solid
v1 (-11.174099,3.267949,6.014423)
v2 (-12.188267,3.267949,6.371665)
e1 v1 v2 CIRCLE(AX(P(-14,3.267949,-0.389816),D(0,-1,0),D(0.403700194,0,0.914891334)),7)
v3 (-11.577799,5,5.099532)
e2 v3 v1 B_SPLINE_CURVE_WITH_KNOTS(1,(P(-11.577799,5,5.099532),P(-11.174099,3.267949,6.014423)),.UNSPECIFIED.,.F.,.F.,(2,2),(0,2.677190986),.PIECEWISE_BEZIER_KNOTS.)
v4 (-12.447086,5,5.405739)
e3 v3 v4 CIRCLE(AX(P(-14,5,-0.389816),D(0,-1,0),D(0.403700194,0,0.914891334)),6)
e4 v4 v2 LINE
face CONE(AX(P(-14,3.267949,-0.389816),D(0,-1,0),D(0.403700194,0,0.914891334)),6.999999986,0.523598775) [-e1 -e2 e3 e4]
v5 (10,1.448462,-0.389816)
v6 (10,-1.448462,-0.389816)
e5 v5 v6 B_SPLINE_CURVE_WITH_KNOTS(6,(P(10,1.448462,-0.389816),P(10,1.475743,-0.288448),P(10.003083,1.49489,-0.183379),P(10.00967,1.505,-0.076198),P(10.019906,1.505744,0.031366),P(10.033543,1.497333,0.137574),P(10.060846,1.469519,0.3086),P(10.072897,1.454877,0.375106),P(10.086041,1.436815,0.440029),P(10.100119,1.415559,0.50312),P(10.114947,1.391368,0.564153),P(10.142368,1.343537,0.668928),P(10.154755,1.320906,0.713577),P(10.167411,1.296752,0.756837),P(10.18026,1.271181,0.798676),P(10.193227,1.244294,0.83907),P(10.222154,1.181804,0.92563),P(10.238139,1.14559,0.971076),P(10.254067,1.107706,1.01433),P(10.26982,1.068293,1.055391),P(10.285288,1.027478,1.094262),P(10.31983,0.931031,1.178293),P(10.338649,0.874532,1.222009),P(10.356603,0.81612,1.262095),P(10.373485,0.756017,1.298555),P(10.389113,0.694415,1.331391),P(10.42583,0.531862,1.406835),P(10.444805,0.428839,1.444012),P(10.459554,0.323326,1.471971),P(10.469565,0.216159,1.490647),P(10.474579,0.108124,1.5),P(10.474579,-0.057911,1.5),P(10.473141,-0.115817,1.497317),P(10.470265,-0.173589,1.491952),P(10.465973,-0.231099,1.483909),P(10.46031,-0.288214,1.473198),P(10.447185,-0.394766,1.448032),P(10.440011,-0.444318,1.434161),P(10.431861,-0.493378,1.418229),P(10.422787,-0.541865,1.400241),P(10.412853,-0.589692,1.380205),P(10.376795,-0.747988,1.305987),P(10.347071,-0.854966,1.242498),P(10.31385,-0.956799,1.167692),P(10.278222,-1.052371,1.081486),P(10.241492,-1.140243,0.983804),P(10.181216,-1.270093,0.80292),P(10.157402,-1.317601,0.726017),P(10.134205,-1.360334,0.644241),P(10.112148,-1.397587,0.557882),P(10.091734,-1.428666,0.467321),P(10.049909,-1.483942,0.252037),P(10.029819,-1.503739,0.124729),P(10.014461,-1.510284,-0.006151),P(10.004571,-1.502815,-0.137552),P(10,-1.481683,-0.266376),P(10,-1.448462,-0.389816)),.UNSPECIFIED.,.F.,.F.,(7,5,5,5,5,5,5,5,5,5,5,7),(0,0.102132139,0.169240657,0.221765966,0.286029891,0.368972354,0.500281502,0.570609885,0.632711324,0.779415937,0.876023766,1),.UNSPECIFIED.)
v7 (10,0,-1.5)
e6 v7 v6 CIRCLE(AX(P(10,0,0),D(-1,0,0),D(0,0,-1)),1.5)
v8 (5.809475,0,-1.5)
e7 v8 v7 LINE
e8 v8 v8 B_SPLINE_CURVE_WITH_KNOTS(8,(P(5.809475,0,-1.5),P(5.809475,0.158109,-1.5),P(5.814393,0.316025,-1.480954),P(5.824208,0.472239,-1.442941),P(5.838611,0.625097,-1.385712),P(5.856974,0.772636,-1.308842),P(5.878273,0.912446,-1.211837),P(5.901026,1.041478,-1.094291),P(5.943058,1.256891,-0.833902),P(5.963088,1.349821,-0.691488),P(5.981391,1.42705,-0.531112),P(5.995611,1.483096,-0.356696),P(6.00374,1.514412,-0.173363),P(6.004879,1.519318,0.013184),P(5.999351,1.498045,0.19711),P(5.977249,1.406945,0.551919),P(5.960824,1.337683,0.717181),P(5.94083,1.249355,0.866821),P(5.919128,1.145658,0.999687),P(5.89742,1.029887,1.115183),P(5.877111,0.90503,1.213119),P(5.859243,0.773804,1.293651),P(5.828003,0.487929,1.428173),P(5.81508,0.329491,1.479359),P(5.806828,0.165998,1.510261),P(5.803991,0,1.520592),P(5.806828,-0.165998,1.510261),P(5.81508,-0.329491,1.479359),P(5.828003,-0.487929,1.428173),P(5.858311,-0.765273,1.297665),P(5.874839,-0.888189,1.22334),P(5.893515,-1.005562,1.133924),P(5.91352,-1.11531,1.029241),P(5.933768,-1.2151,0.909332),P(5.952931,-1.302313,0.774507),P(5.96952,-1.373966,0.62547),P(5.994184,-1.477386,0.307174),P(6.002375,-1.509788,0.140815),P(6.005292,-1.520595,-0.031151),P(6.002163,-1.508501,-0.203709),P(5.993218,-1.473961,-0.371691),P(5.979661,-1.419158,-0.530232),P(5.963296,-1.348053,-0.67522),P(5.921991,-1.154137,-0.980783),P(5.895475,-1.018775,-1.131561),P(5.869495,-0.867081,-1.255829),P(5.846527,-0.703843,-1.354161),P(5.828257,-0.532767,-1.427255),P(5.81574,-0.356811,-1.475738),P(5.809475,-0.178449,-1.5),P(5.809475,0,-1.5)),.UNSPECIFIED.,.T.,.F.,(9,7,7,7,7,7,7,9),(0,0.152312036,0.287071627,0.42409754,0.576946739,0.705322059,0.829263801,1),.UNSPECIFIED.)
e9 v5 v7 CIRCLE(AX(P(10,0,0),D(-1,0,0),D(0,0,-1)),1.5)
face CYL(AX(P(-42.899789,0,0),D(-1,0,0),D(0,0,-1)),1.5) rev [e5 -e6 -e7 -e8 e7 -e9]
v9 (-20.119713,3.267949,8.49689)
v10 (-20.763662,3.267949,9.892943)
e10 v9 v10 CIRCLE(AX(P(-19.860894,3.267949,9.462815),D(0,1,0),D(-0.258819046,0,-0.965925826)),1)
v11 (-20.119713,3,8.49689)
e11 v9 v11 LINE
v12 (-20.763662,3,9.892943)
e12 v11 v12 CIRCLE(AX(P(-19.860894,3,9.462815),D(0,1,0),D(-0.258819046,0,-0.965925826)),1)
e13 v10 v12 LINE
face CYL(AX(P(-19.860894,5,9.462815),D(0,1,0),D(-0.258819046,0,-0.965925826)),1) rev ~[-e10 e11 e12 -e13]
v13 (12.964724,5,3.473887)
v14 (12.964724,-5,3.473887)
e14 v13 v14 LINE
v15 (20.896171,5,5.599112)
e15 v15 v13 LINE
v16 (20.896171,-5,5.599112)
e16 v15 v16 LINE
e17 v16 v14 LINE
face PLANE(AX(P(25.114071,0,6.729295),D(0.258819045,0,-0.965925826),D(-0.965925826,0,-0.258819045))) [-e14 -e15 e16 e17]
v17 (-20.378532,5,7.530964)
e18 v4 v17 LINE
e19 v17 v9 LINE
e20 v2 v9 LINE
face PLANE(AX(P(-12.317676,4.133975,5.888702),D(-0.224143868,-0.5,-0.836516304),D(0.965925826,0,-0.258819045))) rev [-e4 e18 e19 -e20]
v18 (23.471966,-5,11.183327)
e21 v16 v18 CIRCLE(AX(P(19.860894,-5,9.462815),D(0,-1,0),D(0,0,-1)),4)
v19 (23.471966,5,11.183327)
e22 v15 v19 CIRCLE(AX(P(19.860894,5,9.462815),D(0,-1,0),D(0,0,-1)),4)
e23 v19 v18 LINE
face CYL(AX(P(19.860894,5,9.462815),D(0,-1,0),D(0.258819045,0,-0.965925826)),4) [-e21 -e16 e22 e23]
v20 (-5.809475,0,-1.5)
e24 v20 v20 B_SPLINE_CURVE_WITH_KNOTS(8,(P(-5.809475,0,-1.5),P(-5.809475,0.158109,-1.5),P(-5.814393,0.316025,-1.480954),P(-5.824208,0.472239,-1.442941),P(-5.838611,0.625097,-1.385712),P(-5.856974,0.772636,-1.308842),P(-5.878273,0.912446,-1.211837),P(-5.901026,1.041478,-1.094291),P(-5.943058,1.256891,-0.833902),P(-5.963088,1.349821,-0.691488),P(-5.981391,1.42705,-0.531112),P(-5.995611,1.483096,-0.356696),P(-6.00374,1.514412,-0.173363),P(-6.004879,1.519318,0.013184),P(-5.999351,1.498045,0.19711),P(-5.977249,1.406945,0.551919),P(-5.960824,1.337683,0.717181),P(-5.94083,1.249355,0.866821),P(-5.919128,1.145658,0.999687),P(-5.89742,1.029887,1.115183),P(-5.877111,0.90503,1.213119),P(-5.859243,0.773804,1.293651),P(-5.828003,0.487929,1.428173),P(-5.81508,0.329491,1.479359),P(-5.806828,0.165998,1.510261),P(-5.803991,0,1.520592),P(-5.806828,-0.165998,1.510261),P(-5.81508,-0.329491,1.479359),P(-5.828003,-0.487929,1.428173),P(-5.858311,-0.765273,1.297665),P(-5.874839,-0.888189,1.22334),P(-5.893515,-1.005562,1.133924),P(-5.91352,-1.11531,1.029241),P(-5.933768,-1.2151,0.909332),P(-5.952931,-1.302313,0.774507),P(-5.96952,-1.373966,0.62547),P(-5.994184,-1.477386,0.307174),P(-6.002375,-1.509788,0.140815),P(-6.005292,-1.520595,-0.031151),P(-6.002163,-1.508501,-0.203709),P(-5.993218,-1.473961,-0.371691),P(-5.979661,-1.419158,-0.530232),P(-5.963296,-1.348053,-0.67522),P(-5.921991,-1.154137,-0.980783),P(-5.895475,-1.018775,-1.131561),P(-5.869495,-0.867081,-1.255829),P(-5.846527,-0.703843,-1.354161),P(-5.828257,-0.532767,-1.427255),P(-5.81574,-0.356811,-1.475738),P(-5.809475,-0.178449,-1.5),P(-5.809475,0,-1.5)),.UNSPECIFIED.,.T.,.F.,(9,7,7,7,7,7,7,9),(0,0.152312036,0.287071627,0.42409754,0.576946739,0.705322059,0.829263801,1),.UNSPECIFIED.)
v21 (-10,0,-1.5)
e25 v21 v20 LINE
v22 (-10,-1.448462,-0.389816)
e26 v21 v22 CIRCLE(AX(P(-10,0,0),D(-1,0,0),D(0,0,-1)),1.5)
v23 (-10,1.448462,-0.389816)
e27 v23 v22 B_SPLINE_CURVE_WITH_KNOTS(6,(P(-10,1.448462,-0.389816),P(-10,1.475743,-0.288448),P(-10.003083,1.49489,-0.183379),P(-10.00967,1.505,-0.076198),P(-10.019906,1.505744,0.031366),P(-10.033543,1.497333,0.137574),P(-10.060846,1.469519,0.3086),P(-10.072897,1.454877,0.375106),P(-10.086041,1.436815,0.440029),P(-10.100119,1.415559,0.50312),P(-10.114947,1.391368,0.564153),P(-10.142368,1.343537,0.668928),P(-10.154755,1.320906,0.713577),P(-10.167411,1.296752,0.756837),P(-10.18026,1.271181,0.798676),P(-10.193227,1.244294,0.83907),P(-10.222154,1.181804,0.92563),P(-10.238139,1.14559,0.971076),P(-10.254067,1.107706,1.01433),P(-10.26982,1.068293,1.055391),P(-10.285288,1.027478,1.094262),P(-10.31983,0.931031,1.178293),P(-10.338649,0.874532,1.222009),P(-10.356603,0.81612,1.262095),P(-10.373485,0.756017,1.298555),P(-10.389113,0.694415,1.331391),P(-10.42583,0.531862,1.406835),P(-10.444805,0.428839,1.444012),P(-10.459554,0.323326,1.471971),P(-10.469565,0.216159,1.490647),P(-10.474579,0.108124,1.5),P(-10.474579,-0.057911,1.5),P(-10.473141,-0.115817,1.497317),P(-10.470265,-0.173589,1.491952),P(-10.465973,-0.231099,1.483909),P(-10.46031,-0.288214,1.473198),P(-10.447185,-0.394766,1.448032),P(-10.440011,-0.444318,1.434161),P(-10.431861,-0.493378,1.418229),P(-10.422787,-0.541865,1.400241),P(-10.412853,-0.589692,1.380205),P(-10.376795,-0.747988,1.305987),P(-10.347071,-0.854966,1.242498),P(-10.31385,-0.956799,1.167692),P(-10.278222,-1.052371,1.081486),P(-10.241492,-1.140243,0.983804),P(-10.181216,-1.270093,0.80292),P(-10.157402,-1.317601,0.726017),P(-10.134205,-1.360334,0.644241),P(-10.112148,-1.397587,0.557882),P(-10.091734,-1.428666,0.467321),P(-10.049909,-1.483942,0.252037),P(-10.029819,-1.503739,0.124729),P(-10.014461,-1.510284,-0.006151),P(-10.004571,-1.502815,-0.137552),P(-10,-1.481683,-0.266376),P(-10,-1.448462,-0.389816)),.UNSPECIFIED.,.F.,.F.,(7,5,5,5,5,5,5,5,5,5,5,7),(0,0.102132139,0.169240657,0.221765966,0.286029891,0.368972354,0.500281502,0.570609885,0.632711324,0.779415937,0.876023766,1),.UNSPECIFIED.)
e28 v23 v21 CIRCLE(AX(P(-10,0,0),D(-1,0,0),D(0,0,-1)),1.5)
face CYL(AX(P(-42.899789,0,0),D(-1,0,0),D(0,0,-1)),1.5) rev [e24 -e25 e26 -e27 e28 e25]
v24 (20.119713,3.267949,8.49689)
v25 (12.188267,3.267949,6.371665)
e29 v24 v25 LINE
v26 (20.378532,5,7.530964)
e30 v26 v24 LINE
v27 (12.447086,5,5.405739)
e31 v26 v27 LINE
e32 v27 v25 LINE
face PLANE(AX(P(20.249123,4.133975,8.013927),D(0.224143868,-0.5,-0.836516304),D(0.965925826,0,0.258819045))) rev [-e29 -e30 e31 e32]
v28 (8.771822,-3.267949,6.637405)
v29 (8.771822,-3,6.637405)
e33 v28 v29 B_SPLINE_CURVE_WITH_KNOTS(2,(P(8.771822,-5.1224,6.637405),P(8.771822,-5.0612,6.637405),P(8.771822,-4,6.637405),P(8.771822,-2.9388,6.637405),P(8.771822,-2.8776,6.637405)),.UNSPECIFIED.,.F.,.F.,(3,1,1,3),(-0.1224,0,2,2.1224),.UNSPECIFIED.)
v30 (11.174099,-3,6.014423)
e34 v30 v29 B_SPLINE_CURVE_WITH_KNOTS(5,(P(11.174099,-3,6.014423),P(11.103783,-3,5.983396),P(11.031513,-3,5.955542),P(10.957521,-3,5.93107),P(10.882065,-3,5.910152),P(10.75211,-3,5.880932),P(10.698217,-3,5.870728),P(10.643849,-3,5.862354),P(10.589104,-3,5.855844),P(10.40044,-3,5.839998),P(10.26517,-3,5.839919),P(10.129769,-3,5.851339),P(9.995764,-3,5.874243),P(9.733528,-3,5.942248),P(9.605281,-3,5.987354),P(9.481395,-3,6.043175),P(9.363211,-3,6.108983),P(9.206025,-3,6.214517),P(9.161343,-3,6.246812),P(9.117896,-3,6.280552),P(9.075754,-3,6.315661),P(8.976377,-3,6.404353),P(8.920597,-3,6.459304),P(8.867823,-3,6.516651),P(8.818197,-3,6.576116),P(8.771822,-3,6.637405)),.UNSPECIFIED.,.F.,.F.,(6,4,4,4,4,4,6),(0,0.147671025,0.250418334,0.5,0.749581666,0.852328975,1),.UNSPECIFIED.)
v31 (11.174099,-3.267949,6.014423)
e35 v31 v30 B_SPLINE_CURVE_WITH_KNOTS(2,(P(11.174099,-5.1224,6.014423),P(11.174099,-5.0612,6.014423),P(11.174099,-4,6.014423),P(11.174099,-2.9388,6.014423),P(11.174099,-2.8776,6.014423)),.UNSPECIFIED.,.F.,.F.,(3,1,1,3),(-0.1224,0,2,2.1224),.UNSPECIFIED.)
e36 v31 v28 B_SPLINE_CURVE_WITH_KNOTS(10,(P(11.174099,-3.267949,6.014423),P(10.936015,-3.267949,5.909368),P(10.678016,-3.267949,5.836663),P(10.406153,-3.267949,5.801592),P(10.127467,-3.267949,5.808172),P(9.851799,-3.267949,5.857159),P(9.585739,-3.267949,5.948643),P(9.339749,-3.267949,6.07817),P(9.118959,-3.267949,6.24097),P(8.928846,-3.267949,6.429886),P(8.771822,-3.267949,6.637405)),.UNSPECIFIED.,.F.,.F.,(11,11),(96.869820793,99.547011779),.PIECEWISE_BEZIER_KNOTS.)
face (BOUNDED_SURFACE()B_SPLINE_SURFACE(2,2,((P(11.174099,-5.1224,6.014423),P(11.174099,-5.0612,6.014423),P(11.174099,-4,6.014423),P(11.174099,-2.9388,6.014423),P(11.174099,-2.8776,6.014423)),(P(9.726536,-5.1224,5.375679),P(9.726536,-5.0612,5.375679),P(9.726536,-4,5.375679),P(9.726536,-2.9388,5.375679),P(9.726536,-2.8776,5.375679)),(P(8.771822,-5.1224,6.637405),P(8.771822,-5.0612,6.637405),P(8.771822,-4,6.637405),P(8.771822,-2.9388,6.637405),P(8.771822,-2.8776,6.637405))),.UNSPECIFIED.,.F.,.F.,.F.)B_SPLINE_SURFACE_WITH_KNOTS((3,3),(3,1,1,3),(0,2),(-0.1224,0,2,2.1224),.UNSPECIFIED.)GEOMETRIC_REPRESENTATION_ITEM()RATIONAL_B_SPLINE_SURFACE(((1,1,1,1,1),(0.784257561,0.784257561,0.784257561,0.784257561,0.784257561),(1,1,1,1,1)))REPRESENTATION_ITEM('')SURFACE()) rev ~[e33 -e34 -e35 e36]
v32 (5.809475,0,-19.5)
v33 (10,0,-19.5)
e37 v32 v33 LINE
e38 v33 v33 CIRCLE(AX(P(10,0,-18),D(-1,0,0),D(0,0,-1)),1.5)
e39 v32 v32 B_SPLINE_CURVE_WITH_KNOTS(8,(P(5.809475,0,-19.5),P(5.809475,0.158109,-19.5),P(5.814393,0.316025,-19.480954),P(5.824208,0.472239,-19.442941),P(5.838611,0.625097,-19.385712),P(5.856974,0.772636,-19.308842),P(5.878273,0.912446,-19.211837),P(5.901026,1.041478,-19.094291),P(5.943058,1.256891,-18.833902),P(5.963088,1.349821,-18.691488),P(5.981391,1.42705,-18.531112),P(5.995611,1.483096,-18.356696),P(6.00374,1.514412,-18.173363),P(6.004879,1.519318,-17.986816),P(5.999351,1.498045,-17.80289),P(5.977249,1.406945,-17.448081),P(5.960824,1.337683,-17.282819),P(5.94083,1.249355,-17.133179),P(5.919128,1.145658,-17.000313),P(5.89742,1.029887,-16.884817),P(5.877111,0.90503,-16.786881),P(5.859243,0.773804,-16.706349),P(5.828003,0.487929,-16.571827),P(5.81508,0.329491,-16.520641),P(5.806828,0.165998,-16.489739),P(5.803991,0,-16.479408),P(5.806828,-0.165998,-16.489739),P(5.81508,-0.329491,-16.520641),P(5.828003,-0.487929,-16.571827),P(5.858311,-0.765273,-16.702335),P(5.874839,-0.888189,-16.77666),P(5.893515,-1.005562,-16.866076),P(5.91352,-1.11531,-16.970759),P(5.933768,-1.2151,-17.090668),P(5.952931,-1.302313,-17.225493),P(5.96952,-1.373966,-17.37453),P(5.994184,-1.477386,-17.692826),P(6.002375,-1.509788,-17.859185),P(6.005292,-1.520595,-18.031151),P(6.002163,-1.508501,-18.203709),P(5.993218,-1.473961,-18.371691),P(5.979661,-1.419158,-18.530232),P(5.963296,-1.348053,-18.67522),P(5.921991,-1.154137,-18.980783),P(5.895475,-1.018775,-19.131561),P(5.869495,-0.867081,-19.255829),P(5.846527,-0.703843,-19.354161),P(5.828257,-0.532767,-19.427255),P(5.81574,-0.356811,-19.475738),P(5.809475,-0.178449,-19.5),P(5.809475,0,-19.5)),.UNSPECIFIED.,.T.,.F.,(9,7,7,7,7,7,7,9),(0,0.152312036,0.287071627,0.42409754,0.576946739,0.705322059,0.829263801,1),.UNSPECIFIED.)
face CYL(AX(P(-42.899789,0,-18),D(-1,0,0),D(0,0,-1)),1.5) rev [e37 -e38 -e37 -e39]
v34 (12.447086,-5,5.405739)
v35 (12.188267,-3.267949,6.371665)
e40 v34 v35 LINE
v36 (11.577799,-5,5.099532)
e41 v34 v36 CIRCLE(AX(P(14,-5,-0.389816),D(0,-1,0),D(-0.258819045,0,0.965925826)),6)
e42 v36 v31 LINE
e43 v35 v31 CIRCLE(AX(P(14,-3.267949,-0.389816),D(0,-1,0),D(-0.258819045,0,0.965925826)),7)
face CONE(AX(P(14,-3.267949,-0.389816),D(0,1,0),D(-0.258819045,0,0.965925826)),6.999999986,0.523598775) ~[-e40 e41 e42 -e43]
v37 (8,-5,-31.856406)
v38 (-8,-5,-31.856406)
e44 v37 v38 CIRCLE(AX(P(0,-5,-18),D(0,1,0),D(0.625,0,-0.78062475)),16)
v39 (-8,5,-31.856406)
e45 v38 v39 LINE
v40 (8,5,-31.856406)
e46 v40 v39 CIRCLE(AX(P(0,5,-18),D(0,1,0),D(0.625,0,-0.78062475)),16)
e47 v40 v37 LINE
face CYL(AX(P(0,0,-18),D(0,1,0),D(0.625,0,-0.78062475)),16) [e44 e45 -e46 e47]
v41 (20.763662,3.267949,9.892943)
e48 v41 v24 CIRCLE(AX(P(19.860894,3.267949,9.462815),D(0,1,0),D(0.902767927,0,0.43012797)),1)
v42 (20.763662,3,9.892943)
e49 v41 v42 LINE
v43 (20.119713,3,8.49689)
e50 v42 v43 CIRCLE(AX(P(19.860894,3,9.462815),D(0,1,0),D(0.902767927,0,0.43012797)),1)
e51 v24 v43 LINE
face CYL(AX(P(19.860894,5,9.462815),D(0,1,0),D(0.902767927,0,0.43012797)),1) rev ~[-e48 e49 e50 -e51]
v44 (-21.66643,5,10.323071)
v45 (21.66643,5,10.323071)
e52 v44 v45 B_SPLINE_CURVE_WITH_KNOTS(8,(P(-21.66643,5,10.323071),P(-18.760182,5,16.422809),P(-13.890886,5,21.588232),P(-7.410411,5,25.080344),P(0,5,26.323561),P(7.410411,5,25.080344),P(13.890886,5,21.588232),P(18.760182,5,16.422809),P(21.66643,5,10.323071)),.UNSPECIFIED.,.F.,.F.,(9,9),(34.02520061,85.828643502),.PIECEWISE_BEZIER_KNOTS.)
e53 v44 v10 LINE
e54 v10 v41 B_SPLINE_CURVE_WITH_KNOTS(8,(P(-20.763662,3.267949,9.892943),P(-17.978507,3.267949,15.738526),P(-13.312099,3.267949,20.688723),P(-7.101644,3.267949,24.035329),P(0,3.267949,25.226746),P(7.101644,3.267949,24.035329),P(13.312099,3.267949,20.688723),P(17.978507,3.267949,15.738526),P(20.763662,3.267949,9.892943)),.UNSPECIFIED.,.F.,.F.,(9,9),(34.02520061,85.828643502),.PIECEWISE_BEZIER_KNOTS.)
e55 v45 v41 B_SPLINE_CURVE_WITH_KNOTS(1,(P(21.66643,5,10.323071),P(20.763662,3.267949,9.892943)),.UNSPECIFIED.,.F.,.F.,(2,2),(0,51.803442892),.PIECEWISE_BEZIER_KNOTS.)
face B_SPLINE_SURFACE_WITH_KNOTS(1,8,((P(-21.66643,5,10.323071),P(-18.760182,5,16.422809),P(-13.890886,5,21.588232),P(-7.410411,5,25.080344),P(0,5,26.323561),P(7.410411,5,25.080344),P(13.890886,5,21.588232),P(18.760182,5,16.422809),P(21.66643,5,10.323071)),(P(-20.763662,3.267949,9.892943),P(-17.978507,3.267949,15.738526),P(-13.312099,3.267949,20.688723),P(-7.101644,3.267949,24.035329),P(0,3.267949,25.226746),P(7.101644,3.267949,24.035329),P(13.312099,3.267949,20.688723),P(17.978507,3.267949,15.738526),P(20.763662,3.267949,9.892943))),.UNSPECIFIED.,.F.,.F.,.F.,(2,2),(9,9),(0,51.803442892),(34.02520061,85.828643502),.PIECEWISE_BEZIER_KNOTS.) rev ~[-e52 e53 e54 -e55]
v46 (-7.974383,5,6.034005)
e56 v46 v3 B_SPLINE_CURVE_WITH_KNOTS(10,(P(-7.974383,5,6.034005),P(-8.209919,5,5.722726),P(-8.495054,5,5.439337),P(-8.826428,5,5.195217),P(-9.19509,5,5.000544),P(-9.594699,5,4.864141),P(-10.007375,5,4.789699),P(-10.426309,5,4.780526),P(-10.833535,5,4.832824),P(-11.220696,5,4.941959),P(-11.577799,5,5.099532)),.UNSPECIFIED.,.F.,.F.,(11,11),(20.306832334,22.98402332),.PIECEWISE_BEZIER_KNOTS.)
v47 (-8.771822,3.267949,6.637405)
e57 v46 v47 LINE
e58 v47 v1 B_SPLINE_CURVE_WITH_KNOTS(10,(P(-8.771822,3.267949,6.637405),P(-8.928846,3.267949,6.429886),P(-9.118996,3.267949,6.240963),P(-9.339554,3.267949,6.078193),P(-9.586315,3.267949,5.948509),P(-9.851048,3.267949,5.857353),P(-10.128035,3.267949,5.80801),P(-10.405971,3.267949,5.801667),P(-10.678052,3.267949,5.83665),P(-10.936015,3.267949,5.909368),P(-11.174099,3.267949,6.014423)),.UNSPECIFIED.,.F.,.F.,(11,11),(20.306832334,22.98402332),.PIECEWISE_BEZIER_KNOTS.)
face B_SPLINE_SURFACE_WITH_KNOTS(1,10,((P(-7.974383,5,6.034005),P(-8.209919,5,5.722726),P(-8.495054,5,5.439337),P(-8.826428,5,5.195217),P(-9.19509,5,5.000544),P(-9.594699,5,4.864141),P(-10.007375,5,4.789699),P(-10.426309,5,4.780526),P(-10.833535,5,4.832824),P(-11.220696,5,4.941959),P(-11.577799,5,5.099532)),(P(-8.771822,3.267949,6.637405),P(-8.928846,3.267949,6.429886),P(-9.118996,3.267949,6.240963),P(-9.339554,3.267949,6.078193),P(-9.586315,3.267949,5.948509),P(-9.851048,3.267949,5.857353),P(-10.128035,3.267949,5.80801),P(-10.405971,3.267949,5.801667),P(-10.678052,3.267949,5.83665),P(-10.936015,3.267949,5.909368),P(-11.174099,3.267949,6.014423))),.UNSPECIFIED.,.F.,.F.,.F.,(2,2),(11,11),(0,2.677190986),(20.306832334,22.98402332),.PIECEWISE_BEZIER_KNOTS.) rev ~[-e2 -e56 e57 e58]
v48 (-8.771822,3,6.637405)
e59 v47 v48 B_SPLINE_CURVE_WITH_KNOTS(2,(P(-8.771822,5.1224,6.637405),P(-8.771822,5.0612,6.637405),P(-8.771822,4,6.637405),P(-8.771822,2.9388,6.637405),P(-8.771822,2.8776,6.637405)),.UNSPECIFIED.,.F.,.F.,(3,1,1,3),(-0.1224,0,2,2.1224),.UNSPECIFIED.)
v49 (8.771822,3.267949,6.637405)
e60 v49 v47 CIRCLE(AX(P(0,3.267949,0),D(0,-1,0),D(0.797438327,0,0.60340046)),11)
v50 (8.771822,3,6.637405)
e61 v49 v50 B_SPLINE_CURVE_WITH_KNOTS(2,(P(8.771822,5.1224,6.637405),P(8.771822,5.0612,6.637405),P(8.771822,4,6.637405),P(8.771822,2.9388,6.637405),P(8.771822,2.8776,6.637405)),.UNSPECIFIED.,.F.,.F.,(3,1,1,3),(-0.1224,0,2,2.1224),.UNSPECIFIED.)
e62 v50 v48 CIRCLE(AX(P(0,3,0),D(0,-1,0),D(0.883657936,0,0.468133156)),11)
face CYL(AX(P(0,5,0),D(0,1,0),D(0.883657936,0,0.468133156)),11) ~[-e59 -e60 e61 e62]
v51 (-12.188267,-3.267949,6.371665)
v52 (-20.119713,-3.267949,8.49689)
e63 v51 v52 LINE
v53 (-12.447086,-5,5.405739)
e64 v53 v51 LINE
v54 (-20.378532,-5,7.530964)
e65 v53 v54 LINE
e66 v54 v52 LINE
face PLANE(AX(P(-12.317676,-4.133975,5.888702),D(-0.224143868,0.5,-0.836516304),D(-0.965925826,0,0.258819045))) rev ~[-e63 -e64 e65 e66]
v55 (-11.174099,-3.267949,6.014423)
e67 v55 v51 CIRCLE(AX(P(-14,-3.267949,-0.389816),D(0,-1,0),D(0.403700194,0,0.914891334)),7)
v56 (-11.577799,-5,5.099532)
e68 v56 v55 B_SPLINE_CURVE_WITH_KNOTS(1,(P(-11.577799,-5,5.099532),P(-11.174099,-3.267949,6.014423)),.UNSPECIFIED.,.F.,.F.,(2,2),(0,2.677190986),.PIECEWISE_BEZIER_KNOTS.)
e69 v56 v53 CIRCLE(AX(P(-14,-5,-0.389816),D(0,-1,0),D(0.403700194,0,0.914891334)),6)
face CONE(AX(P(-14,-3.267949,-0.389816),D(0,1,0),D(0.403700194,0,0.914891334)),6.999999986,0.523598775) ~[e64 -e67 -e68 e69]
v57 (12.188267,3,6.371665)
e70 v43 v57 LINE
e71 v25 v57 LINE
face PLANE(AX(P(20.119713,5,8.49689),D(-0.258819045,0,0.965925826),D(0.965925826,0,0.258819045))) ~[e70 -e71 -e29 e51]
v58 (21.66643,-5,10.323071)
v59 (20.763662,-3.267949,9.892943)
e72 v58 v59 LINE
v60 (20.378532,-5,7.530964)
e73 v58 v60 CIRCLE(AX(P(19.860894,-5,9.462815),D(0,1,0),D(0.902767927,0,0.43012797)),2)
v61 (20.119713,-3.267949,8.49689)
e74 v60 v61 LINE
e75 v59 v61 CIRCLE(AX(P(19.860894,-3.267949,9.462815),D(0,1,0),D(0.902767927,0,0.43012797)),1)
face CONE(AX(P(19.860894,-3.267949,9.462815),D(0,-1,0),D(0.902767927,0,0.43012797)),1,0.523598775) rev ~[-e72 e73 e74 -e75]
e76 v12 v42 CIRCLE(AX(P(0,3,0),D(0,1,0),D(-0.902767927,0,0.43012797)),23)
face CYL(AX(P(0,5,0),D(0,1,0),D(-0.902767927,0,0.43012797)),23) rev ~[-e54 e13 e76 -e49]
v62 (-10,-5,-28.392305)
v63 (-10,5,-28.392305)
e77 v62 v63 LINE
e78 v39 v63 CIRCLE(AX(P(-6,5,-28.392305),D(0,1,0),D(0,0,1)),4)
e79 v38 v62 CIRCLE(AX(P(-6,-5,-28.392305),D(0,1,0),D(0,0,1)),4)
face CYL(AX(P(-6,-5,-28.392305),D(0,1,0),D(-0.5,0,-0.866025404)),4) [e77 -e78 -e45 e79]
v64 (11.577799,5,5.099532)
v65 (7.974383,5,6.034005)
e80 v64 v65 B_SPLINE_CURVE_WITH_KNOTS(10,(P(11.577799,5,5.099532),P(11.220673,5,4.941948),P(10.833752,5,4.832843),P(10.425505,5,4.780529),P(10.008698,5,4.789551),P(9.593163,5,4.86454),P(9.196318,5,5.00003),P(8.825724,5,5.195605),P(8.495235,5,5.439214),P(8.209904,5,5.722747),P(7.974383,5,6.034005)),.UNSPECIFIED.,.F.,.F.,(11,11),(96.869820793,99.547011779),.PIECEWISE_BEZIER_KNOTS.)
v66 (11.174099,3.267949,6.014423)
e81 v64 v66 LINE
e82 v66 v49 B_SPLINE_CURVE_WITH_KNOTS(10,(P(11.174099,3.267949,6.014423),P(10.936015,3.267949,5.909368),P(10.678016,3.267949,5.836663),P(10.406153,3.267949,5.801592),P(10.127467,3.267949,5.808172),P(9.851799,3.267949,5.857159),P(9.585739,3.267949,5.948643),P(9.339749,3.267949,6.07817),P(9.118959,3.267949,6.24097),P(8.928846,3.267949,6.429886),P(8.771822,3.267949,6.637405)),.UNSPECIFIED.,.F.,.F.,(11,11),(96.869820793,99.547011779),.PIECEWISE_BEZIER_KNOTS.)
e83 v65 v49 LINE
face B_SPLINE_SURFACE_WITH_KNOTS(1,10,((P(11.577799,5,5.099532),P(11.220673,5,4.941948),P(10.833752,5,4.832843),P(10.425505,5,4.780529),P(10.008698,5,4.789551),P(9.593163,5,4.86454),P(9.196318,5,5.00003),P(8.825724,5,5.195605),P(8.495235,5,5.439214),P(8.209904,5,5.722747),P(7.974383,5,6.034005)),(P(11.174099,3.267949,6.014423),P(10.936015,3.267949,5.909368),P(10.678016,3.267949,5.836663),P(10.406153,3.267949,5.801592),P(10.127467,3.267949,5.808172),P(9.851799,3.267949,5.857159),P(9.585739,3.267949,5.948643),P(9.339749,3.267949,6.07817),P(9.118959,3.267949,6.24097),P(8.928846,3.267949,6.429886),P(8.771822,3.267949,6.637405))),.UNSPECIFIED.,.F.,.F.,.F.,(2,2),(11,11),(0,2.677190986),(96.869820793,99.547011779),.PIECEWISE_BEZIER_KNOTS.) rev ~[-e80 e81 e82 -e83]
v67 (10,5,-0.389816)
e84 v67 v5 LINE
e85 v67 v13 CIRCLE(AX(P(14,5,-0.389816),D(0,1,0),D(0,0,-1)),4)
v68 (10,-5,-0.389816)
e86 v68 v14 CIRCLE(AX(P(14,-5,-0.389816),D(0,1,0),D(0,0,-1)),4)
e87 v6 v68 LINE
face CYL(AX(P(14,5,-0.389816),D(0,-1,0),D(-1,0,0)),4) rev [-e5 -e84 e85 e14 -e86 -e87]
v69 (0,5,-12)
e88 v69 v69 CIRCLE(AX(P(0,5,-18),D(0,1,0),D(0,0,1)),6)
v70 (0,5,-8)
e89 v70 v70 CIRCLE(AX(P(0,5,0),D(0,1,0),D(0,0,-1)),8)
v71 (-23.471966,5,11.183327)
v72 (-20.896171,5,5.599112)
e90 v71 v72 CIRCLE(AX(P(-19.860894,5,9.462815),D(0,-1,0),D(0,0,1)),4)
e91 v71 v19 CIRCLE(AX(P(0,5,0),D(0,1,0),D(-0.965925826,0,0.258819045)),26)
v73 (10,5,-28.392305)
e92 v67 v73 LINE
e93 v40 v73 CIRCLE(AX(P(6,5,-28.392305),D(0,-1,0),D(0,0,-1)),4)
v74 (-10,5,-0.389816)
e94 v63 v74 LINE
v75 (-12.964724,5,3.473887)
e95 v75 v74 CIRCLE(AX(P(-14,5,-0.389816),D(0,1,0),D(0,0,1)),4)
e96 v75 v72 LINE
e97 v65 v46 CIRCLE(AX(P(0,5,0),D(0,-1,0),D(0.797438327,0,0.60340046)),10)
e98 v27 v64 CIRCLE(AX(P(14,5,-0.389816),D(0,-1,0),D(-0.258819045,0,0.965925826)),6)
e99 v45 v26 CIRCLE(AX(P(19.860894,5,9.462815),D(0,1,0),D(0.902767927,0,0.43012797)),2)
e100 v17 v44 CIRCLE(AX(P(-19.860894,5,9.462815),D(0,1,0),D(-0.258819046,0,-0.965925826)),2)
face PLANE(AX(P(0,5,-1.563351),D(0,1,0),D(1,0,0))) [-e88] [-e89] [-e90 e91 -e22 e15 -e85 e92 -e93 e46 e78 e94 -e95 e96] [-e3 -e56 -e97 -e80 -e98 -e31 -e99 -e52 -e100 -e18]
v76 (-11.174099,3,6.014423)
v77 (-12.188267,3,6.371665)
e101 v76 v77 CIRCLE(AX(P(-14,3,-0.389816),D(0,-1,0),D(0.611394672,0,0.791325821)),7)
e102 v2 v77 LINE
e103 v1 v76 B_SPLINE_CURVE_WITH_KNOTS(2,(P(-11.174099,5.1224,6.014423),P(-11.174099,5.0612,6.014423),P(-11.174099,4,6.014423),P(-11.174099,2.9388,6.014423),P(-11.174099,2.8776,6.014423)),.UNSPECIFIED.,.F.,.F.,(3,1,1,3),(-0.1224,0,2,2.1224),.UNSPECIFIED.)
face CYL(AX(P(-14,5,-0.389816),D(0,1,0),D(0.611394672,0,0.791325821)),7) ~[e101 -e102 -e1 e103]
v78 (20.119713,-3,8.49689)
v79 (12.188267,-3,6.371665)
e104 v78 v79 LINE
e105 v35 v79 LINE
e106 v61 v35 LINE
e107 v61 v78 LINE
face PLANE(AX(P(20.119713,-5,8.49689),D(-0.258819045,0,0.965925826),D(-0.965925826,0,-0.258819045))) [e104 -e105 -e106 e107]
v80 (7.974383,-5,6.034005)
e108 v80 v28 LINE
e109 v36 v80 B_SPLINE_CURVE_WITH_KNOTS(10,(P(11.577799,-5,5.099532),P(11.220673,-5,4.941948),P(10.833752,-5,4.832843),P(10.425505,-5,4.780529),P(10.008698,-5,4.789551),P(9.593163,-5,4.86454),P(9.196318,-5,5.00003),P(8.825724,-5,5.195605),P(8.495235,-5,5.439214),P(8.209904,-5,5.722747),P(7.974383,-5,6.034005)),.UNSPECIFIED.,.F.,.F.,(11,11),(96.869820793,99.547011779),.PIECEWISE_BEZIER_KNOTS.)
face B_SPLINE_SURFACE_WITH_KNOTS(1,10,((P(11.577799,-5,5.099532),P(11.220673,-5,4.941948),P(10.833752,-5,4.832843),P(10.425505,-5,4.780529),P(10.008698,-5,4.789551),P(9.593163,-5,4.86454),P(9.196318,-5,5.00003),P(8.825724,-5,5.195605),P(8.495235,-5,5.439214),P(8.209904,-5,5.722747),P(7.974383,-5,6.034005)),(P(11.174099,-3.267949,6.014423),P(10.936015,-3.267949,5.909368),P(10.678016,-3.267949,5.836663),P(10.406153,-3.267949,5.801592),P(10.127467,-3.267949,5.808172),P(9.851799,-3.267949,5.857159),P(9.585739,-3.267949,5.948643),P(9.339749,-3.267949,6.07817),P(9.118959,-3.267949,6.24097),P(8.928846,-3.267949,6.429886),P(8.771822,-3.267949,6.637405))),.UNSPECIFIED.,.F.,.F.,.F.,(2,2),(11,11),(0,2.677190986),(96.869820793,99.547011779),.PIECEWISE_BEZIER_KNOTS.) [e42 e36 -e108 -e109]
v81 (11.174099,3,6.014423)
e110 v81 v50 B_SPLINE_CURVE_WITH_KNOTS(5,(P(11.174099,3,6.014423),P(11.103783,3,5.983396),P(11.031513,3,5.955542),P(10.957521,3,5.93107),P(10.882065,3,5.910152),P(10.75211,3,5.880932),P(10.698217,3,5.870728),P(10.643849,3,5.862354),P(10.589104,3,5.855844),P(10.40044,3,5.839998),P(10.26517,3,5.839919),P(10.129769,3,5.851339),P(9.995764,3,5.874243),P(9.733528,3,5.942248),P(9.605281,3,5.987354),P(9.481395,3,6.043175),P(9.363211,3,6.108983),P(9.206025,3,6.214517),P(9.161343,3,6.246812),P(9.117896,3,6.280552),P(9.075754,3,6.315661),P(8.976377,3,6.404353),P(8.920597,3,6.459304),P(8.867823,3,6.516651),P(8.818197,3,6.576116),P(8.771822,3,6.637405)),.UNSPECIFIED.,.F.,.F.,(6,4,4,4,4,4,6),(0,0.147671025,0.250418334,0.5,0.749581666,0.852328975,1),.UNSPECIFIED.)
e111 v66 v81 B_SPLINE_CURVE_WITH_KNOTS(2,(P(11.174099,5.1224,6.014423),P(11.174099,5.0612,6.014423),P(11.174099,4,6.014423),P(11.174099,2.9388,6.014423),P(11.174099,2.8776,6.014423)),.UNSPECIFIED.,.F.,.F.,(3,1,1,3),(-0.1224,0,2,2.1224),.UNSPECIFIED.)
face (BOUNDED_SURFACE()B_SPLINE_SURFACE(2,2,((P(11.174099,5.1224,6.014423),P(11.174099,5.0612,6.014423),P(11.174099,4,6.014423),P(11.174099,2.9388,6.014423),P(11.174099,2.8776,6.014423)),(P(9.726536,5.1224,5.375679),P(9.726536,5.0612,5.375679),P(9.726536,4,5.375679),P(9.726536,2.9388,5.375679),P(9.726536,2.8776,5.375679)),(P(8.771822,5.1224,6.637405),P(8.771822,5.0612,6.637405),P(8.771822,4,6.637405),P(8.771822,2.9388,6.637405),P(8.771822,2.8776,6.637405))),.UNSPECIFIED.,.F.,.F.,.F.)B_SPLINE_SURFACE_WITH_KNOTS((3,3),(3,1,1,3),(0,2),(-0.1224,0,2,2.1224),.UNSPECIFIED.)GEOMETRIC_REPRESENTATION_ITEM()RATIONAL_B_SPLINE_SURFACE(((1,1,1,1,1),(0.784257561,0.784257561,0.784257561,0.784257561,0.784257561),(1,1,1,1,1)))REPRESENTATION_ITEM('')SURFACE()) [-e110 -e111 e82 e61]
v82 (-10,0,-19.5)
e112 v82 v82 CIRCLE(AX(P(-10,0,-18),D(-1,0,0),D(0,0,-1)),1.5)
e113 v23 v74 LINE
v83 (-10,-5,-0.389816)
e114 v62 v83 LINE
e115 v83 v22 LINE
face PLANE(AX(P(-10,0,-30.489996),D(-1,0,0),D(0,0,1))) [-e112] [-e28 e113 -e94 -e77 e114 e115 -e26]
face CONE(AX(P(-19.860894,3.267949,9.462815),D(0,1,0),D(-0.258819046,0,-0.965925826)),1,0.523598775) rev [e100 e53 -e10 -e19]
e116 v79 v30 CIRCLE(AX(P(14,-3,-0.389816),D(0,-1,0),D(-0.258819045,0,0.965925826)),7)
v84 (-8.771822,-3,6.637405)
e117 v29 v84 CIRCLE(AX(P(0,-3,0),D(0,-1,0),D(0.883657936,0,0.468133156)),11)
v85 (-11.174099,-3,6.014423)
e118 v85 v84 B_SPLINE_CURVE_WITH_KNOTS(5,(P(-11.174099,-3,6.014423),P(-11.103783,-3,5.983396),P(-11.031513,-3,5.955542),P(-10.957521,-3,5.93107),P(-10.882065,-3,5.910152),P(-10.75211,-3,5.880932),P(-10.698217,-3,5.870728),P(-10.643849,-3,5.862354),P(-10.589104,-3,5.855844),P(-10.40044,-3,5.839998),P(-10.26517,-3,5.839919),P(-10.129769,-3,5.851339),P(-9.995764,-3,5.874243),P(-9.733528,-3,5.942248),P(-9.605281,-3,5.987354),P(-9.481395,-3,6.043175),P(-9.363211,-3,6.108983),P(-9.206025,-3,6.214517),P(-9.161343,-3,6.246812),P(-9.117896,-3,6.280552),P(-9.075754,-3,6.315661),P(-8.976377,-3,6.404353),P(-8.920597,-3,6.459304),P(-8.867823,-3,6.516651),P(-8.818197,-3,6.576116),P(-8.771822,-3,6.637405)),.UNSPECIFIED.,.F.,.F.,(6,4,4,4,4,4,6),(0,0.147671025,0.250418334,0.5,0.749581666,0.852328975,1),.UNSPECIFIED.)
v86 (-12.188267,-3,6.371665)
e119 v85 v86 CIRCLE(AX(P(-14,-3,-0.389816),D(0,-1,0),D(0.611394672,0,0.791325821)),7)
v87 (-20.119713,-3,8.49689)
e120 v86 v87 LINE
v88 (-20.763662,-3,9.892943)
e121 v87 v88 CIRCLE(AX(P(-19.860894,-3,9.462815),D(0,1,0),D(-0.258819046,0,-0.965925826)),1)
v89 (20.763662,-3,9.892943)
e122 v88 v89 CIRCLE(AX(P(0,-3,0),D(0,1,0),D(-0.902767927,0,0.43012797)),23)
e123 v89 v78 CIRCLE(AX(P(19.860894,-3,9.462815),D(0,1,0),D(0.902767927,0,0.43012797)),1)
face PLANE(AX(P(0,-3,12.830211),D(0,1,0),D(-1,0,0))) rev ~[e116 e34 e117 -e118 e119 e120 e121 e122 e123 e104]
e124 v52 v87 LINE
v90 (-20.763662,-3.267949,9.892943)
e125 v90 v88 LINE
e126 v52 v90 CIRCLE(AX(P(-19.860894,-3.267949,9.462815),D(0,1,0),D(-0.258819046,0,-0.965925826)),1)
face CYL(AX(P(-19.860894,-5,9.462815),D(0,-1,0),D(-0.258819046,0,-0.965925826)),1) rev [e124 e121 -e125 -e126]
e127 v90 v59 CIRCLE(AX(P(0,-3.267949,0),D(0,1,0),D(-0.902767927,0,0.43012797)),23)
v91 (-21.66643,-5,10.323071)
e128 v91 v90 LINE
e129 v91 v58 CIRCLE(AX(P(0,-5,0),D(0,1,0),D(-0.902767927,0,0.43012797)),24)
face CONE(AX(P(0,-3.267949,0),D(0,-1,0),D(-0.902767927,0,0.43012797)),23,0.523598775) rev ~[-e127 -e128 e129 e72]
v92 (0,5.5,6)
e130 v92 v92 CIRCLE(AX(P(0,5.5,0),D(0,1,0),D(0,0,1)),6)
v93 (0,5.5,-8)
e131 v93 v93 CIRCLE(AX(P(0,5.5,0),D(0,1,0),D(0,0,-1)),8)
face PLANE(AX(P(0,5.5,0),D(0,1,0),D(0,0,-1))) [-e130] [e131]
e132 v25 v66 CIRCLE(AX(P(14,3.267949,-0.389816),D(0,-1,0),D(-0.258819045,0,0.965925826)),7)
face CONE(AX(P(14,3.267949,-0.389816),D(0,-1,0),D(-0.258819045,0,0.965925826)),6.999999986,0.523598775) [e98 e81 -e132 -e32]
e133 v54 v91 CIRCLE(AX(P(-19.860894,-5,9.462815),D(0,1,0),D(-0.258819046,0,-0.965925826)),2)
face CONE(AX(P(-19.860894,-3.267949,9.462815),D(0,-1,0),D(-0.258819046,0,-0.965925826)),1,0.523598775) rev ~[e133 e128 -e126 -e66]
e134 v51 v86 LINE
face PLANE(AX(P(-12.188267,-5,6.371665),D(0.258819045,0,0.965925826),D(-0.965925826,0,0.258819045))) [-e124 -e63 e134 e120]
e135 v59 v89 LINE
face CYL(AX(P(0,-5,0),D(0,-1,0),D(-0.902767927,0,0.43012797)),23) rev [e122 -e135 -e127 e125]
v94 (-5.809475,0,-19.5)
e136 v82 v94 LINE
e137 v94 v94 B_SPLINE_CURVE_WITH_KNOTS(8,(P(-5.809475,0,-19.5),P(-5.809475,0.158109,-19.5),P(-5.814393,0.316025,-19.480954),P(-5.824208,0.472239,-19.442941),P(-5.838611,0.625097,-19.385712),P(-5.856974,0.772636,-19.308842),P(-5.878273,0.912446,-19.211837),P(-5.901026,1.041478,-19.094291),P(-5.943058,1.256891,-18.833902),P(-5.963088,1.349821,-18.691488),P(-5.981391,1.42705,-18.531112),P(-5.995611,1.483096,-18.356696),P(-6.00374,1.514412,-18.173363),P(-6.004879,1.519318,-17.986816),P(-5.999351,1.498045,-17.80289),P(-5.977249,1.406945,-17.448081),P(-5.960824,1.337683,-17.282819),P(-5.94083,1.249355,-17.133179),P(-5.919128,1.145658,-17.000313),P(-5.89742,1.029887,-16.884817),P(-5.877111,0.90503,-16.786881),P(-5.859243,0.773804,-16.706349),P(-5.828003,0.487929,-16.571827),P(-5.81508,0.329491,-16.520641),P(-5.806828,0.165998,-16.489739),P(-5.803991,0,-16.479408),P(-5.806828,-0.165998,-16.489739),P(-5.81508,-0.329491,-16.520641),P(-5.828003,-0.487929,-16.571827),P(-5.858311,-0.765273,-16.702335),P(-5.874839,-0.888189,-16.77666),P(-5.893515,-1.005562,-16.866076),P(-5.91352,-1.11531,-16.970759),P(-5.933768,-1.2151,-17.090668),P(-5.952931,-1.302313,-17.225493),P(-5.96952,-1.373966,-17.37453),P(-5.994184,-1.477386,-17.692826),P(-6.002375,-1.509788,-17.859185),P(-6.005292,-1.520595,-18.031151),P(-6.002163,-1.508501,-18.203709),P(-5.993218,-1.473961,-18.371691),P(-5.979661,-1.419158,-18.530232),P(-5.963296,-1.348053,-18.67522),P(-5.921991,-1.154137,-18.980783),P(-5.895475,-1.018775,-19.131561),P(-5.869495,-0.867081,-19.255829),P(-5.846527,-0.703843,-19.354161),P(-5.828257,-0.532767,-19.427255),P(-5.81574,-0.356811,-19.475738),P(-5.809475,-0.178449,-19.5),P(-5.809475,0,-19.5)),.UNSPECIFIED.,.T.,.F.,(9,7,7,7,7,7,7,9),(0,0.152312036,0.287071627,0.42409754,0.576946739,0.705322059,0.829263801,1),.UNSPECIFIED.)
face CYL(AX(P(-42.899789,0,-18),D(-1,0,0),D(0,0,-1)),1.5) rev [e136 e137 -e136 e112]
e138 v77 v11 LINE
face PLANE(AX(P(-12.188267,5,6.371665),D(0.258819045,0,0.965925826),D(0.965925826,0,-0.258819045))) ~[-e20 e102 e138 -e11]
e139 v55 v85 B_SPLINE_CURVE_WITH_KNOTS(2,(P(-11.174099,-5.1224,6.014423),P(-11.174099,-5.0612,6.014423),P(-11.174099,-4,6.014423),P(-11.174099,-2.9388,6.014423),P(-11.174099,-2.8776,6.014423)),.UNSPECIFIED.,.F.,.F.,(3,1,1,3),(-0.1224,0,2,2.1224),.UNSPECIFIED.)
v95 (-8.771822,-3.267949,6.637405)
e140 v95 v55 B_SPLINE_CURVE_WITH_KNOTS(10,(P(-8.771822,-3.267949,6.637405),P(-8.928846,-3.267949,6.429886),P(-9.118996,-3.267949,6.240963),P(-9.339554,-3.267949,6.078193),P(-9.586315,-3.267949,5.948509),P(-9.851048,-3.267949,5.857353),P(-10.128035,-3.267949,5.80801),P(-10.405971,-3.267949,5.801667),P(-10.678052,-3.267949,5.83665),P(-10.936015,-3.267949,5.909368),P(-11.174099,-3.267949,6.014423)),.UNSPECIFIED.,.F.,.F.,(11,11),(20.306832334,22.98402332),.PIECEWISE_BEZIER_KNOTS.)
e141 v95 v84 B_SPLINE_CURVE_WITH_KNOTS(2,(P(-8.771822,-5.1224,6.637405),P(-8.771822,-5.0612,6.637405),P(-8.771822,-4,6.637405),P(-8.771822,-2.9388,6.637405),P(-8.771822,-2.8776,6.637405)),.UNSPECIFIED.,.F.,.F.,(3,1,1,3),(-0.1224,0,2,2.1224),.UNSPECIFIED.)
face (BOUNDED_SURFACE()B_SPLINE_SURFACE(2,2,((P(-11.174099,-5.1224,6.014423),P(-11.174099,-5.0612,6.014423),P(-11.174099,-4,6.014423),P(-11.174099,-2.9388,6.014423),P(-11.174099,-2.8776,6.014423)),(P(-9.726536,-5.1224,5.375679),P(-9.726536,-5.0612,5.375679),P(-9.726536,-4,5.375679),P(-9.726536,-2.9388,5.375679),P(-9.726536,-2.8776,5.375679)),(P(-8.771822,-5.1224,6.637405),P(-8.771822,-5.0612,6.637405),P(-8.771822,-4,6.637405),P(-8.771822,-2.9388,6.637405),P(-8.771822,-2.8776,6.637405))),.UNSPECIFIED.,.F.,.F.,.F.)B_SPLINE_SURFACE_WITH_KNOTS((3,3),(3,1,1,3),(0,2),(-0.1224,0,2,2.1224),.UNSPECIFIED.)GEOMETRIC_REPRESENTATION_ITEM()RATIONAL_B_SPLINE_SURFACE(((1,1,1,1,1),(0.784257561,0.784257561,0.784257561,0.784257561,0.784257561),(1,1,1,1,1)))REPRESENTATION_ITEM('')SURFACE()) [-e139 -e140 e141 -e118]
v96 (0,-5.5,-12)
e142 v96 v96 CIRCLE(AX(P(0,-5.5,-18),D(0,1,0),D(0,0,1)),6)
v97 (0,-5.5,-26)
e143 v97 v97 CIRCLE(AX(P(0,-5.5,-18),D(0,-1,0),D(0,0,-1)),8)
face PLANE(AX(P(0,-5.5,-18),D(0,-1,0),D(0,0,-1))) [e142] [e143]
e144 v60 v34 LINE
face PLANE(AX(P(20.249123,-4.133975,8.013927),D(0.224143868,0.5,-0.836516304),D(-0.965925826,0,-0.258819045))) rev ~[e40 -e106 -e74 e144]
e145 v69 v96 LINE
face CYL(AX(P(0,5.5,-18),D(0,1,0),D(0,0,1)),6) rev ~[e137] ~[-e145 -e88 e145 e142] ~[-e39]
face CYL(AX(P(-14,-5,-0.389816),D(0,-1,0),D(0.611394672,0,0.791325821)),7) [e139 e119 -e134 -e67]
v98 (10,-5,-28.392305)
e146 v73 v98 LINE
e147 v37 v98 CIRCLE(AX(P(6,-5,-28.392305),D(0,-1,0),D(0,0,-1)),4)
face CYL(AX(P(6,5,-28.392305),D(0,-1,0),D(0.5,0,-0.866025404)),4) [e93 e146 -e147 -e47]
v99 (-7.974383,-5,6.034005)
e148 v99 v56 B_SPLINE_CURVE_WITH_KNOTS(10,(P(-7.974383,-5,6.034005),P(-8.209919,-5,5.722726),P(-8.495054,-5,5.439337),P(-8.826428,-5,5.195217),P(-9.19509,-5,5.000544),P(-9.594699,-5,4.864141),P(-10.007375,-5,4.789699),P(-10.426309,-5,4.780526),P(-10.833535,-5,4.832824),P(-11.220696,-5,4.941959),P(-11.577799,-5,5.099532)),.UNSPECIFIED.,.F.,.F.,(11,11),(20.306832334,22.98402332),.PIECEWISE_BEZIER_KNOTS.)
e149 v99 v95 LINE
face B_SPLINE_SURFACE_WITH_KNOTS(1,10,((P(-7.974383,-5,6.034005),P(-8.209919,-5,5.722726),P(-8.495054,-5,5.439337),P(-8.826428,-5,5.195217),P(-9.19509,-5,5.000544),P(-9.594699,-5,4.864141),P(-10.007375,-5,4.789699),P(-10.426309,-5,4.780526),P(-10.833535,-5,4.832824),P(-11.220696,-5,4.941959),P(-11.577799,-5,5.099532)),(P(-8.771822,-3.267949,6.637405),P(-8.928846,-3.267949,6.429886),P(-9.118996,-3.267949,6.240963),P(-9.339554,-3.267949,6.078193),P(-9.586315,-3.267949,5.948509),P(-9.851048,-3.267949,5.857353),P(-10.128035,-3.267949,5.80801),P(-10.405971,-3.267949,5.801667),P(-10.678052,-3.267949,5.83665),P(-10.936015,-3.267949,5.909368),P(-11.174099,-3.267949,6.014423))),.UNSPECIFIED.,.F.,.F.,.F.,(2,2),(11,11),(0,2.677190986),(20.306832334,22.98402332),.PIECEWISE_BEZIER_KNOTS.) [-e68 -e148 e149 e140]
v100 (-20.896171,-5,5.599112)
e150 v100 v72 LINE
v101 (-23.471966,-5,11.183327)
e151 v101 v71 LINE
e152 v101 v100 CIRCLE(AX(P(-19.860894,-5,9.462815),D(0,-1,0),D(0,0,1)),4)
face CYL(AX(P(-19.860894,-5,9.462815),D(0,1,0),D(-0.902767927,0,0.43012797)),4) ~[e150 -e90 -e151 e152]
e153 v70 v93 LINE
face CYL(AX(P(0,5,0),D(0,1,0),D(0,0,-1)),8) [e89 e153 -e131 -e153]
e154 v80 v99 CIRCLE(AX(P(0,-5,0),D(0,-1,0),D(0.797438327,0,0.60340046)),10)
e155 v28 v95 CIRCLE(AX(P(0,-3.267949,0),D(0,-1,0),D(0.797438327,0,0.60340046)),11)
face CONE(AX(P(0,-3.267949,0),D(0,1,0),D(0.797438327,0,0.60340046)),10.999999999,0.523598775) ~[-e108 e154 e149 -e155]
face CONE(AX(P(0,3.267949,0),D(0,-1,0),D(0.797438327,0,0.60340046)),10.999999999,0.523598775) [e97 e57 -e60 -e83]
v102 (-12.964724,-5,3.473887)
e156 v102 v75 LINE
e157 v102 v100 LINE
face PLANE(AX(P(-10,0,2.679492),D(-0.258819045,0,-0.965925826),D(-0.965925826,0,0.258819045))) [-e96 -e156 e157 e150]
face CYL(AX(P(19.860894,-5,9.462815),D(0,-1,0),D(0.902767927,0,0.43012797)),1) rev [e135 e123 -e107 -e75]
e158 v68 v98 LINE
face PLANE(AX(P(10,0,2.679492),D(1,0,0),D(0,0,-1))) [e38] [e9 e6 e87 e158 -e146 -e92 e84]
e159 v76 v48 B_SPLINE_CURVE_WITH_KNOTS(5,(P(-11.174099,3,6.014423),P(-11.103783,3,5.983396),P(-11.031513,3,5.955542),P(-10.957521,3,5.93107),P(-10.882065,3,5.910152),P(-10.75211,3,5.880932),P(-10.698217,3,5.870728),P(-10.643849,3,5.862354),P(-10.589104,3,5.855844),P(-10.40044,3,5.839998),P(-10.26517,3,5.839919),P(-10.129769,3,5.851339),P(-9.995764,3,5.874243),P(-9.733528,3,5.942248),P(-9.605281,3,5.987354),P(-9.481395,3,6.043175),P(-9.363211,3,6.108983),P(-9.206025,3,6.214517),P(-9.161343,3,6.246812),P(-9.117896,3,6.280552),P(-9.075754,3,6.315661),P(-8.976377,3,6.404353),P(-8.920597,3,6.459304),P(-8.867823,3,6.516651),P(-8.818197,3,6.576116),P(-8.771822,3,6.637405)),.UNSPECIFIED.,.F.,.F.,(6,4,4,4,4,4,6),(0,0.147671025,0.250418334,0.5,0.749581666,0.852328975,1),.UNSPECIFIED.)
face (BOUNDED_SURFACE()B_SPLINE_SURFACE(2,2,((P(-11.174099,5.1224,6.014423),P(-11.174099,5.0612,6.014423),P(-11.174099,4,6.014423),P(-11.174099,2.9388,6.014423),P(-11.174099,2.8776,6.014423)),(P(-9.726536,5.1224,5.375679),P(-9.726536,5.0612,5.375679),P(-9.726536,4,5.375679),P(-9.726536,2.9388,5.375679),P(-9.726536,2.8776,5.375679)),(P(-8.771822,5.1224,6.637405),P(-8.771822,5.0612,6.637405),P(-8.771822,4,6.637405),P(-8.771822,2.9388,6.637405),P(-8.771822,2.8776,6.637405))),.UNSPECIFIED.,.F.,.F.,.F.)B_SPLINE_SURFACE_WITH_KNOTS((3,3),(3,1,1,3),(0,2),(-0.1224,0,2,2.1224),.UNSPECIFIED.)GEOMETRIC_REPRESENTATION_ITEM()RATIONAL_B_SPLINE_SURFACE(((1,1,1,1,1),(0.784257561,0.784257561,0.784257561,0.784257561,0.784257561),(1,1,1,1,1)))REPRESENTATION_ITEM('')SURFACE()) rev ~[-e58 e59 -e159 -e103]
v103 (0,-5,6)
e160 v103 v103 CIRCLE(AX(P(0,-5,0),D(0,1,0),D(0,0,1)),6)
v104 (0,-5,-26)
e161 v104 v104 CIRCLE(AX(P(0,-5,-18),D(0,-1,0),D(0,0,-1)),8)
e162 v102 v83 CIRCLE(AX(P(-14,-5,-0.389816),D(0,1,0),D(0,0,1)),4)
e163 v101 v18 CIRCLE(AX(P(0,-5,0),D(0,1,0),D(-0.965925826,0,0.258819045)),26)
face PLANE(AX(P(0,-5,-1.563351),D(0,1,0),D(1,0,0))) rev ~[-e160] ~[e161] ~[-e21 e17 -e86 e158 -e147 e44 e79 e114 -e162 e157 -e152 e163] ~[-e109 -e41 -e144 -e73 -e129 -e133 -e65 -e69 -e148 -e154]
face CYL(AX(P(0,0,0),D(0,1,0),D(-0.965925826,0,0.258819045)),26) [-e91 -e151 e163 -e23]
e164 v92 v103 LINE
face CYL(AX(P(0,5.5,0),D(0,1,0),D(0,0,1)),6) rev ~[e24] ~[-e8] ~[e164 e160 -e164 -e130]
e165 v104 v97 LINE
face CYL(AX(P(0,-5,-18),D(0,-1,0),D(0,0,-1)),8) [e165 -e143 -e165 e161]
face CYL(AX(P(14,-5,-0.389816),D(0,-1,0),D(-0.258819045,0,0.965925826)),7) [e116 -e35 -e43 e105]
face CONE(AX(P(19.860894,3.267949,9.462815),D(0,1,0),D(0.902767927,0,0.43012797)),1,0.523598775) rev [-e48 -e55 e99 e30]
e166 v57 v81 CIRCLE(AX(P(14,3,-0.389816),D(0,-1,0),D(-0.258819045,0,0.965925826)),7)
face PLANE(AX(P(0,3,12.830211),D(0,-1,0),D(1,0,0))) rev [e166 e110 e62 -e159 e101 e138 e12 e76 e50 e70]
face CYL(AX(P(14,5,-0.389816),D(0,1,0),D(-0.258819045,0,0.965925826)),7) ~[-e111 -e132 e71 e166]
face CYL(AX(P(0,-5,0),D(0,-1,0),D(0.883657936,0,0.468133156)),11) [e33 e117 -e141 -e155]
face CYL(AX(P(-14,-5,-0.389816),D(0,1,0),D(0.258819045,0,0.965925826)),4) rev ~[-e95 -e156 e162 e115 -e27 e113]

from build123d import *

# Parameters (mm, degrees)
BOSS_EXTRUDE1_DEPTH       = 5
FILLET1_R                 = 4
SKETCH2_R                 = 8
BOSS_EXTRUDE2_DEPTH       = 0.5
SKETCH3_R                 = 8
BOSS_EXTRUDE3_DEPTH       = 0.5
SKETCH4_R                 = 6
CUT_EXTRUDE1_DEPTH        = 43.969085178
CUT_EXTRUDE2_DEPTH        = 2
FILLET3_R                 = 2
CHAMFER1_SIZE             = 1
CHAMFER1_SIZE2            = 1.732050808
FILLET3_OF_MIRROR9_R      = 2
CHAMFER1_OF_MIRROR9_SIZE2 = 1.732050808
CHAMFER1_OF_MIRROR9_SIZE  = 1
CUT_EXTRUDE3_DEPTH        = 42.899788694
CUT_EXTRUDE3_DEPTH_BACK   = 42.899788694
SKETCH7_R                 = 1.5


with BuildPart() as part:
    # Sketch1 → Boss-Extrude1 (new, symmetric)
    with BuildSketch(Plane(origin=(0, 0, 0), x_dir=(1, 0, 0), z_dir=(0, 1, 0))):
        with BuildLine():
            Line((10, 0), (10, 30.489995997))
            ThreePointArc((10, 30.489995997), (0, 34), (-10, 30.489995997))
            Line((-10, 30.489995997), (-10, 0))
            Line((-10, 0), (-10, -2.679491924))
            Line((-10, -2.679491924), (-25.114071484, -6.729295173))
            ThreePointArc((-25.114071484, -6.729295173), (0, -26), (25.114071484, -6.729295173))
            Line((25.114071484, -6.729295173), (10, -2.679491924))
            Line((10, -2.679491924), (10, 0))
        make_face()
    extrude(amount=BOSS_EXTRUDE1_DEPTH, both=True)

    # Fillet1
    fillet1_edges = [part.edges().sort_by_distance(p)[0] for p in [
        (10, 0, 2.679491924),
        (25.114071484, 0, 6.729295173),
        (-25.114071484, 0, 6.729295173),
        (-10, 0, 2.679491924),
        (-10, 0, -30.489995997),
        (10, 0, -30.489995997),
    ]]
    fillet(fillet1_edges, radius=FILLET1_R)

    # Sketch2 → Boss-Extrude2 (add, symmetric)
    with BuildSketch(Plane(origin=(0, 5, 0), x_dir=(1, 0, 0), z_dir=(0, 1, 0))):
        with Locations(Location((0, 0, 0), (0, 0, 90))):
            Circle(SKETCH2_R)
    extrude(amount=BOSS_EXTRUDE2_DEPTH, both=True)

    # Sketch3 → Boss-Extrude3 (add, symmetric)
    with BuildSketch(Plane.XZ.offset(5)):
        with Locations(Location((0, -18, 0), (0, 0, 270))):
            Circle(SKETCH3_R)
    extrude(amount=BOSS_EXTRUDE3_DEPTH, both=True)

    # Sketch4 → Cut-Extrude1 (cut, through all)
    with BuildSketch(Plane(origin=(0, 5.5, 0), x_dir=(1, 0, 0), z_dir=(0, 1, 0))):
        with Locations(Location((0, 0, 0), (0, 0, 270))):
            Circle(SKETCH4_R)
        with Locations(Location((0, 18, 0), (0, 0, 270))):
            Circle(SKETCH4_R)
    extrude(amount=-CUT_EXTRUDE1_DEPTH, mode=Mode.SUBTRACT)

    # Sketch5 → Cut-Extrude2 (cut)
    with BuildSketch(Plane.XZ.offset(5)):
        with BuildLine():
            ThreePointArc((-9.720237296, 5.14946472), (-10.893551196, 5.883139881), (-12.188266684, 6.371664756))
            Line((-12.188266684, 6.371664756), (-20.119713435, 8.496889508))
            ThreePointArc((-20.119713435, 8.496889508), (-20.768948696, 9.043962883), (-20.763662316, 9.892943304))
            ThreePointArc((-20.763662316, 9.892943304), (0, 23), (20.763662316, 9.892943304))
            ThreePointArc((20.763662316, 9.892943304), (20.768948696, 9.043962883), (20.119713435, 8.496889508))
            Line((20.119713435, 8.496889508), (12.188266684, 6.371664756))
            ThreePointArc((12.188266684, 6.371664756), (10.893551196, 5.883139881), (9.720237296, 5.14946472))
            ThreePointArc((9.720237296, 5.14946472), (0, 11), (-9.720237296, 5.14946472))
        make_face()
    cut_extrude2 = extrude(amount=-CUT_EXTRUDE2_DEPTH, mode=Mode.SUBTRACT)

    # Fillet3
    fillet3_edges = [part.edges().sort_by_distance(p)[0] for p in [
        (-9.720237296, -4, 5.14946472),
        (9.720237296, -4, 5.14946472),
    ]]
    fillet(fillet3_edges, radius=FILLET3_R)

    # Chamfer1
    chamfer1_edges = [part.edges().sort_by_distance(p)[0] for p in [
        (0, -5, 11),
        (-11.674313174, -5, 6.212545731),
        (-9.864646178, -5, 5.908245307),
        (9.864646178, -5, 5.908245307),
        (-16.153990059, -5, 7.434277132),
        (16.153990059, -5, 7.434277132),
        (11.674313174, -5, 6.212545731),
        (20.768948696, -5, 9.043962883),
        (0, -5, 23),
        (-20.768948696, -5, 9.043962883),
    ]]
    chamfer1_side = [part.faces().sort_by_distance(p)[0] for p in [
        (-11.929022401, -5, 5.489455054),
    ]]
    chamfer(chamfer1_edges, length=CHAMFER1_SIZE, length2=CHAMFER1_SIZE2, reference=chamfer1_side[0])

    # Mirror9: Cut-Extrude2 across plane
    add(cut_extrude2.mirror(Plane.ZX), mode=Mode.SUBTRACT)

    # Fillet3 of Mirror9
    fillet3_of_mirror9_edges = [part.edges().sort_by_distance(p)[0] for p in [
        (-9.720237296, 4, 5.14946472),
        (9.720237296, 4, 5.14946472),
    ]]
    fillet(fillet3_of_mirror9_edges, radius=FILLET3_OF_MIRROR9_R)

    # Chamfer1 of Mirror9
    chamfer1_of_mirror9_edges = [part.edges().sort_by_distance(p)[0] for p in [
        (0, 5, 11),
        (-11.674313174, 5, 6.212545731),
        (-9.864646178, 5, 5.908245307),
        (9.864646178, 5, 5.908245307),
        (-16.153990059, 5, 7.434277132),
        (16.153990059, 5, 7.434277132),
        (11.674313174, 5, 6.212545731),
        (20.768948696, 5, 9.043962883),
        (0, 5, 23),
        (-20.768948696, 5, 9.043962883),
    ]]
    chamfer(chamfer1_of_mirror9_edges, length=CHAMFER1_OF_MIRROR9_SIZE, length2=CHAMFER1_OF_MIRROR9_SIZE2)

    # Sketch7 → Cut-Extrude3 (cut, two sides: drawn at the far end of the back side and taken through both)
    with BuildSketch(Plane(origin=(0, 0, 0), x_dir=(0, 0, -1), z_dir=(1, 0, 0)).offset(-CUT_EXTRUDE3_DEPTH_BACK)):
        with Locations((18, 0)):
            Circle(SKETCH7_R)
        Circle(SKETCH7_R)
    extrude(amount=CUT_EXTRUDE3_DEPTH + CUT_EXTRUDE3_DEPTH_BACK, mode=Mode.SUBTRACT)


solid = part.part
